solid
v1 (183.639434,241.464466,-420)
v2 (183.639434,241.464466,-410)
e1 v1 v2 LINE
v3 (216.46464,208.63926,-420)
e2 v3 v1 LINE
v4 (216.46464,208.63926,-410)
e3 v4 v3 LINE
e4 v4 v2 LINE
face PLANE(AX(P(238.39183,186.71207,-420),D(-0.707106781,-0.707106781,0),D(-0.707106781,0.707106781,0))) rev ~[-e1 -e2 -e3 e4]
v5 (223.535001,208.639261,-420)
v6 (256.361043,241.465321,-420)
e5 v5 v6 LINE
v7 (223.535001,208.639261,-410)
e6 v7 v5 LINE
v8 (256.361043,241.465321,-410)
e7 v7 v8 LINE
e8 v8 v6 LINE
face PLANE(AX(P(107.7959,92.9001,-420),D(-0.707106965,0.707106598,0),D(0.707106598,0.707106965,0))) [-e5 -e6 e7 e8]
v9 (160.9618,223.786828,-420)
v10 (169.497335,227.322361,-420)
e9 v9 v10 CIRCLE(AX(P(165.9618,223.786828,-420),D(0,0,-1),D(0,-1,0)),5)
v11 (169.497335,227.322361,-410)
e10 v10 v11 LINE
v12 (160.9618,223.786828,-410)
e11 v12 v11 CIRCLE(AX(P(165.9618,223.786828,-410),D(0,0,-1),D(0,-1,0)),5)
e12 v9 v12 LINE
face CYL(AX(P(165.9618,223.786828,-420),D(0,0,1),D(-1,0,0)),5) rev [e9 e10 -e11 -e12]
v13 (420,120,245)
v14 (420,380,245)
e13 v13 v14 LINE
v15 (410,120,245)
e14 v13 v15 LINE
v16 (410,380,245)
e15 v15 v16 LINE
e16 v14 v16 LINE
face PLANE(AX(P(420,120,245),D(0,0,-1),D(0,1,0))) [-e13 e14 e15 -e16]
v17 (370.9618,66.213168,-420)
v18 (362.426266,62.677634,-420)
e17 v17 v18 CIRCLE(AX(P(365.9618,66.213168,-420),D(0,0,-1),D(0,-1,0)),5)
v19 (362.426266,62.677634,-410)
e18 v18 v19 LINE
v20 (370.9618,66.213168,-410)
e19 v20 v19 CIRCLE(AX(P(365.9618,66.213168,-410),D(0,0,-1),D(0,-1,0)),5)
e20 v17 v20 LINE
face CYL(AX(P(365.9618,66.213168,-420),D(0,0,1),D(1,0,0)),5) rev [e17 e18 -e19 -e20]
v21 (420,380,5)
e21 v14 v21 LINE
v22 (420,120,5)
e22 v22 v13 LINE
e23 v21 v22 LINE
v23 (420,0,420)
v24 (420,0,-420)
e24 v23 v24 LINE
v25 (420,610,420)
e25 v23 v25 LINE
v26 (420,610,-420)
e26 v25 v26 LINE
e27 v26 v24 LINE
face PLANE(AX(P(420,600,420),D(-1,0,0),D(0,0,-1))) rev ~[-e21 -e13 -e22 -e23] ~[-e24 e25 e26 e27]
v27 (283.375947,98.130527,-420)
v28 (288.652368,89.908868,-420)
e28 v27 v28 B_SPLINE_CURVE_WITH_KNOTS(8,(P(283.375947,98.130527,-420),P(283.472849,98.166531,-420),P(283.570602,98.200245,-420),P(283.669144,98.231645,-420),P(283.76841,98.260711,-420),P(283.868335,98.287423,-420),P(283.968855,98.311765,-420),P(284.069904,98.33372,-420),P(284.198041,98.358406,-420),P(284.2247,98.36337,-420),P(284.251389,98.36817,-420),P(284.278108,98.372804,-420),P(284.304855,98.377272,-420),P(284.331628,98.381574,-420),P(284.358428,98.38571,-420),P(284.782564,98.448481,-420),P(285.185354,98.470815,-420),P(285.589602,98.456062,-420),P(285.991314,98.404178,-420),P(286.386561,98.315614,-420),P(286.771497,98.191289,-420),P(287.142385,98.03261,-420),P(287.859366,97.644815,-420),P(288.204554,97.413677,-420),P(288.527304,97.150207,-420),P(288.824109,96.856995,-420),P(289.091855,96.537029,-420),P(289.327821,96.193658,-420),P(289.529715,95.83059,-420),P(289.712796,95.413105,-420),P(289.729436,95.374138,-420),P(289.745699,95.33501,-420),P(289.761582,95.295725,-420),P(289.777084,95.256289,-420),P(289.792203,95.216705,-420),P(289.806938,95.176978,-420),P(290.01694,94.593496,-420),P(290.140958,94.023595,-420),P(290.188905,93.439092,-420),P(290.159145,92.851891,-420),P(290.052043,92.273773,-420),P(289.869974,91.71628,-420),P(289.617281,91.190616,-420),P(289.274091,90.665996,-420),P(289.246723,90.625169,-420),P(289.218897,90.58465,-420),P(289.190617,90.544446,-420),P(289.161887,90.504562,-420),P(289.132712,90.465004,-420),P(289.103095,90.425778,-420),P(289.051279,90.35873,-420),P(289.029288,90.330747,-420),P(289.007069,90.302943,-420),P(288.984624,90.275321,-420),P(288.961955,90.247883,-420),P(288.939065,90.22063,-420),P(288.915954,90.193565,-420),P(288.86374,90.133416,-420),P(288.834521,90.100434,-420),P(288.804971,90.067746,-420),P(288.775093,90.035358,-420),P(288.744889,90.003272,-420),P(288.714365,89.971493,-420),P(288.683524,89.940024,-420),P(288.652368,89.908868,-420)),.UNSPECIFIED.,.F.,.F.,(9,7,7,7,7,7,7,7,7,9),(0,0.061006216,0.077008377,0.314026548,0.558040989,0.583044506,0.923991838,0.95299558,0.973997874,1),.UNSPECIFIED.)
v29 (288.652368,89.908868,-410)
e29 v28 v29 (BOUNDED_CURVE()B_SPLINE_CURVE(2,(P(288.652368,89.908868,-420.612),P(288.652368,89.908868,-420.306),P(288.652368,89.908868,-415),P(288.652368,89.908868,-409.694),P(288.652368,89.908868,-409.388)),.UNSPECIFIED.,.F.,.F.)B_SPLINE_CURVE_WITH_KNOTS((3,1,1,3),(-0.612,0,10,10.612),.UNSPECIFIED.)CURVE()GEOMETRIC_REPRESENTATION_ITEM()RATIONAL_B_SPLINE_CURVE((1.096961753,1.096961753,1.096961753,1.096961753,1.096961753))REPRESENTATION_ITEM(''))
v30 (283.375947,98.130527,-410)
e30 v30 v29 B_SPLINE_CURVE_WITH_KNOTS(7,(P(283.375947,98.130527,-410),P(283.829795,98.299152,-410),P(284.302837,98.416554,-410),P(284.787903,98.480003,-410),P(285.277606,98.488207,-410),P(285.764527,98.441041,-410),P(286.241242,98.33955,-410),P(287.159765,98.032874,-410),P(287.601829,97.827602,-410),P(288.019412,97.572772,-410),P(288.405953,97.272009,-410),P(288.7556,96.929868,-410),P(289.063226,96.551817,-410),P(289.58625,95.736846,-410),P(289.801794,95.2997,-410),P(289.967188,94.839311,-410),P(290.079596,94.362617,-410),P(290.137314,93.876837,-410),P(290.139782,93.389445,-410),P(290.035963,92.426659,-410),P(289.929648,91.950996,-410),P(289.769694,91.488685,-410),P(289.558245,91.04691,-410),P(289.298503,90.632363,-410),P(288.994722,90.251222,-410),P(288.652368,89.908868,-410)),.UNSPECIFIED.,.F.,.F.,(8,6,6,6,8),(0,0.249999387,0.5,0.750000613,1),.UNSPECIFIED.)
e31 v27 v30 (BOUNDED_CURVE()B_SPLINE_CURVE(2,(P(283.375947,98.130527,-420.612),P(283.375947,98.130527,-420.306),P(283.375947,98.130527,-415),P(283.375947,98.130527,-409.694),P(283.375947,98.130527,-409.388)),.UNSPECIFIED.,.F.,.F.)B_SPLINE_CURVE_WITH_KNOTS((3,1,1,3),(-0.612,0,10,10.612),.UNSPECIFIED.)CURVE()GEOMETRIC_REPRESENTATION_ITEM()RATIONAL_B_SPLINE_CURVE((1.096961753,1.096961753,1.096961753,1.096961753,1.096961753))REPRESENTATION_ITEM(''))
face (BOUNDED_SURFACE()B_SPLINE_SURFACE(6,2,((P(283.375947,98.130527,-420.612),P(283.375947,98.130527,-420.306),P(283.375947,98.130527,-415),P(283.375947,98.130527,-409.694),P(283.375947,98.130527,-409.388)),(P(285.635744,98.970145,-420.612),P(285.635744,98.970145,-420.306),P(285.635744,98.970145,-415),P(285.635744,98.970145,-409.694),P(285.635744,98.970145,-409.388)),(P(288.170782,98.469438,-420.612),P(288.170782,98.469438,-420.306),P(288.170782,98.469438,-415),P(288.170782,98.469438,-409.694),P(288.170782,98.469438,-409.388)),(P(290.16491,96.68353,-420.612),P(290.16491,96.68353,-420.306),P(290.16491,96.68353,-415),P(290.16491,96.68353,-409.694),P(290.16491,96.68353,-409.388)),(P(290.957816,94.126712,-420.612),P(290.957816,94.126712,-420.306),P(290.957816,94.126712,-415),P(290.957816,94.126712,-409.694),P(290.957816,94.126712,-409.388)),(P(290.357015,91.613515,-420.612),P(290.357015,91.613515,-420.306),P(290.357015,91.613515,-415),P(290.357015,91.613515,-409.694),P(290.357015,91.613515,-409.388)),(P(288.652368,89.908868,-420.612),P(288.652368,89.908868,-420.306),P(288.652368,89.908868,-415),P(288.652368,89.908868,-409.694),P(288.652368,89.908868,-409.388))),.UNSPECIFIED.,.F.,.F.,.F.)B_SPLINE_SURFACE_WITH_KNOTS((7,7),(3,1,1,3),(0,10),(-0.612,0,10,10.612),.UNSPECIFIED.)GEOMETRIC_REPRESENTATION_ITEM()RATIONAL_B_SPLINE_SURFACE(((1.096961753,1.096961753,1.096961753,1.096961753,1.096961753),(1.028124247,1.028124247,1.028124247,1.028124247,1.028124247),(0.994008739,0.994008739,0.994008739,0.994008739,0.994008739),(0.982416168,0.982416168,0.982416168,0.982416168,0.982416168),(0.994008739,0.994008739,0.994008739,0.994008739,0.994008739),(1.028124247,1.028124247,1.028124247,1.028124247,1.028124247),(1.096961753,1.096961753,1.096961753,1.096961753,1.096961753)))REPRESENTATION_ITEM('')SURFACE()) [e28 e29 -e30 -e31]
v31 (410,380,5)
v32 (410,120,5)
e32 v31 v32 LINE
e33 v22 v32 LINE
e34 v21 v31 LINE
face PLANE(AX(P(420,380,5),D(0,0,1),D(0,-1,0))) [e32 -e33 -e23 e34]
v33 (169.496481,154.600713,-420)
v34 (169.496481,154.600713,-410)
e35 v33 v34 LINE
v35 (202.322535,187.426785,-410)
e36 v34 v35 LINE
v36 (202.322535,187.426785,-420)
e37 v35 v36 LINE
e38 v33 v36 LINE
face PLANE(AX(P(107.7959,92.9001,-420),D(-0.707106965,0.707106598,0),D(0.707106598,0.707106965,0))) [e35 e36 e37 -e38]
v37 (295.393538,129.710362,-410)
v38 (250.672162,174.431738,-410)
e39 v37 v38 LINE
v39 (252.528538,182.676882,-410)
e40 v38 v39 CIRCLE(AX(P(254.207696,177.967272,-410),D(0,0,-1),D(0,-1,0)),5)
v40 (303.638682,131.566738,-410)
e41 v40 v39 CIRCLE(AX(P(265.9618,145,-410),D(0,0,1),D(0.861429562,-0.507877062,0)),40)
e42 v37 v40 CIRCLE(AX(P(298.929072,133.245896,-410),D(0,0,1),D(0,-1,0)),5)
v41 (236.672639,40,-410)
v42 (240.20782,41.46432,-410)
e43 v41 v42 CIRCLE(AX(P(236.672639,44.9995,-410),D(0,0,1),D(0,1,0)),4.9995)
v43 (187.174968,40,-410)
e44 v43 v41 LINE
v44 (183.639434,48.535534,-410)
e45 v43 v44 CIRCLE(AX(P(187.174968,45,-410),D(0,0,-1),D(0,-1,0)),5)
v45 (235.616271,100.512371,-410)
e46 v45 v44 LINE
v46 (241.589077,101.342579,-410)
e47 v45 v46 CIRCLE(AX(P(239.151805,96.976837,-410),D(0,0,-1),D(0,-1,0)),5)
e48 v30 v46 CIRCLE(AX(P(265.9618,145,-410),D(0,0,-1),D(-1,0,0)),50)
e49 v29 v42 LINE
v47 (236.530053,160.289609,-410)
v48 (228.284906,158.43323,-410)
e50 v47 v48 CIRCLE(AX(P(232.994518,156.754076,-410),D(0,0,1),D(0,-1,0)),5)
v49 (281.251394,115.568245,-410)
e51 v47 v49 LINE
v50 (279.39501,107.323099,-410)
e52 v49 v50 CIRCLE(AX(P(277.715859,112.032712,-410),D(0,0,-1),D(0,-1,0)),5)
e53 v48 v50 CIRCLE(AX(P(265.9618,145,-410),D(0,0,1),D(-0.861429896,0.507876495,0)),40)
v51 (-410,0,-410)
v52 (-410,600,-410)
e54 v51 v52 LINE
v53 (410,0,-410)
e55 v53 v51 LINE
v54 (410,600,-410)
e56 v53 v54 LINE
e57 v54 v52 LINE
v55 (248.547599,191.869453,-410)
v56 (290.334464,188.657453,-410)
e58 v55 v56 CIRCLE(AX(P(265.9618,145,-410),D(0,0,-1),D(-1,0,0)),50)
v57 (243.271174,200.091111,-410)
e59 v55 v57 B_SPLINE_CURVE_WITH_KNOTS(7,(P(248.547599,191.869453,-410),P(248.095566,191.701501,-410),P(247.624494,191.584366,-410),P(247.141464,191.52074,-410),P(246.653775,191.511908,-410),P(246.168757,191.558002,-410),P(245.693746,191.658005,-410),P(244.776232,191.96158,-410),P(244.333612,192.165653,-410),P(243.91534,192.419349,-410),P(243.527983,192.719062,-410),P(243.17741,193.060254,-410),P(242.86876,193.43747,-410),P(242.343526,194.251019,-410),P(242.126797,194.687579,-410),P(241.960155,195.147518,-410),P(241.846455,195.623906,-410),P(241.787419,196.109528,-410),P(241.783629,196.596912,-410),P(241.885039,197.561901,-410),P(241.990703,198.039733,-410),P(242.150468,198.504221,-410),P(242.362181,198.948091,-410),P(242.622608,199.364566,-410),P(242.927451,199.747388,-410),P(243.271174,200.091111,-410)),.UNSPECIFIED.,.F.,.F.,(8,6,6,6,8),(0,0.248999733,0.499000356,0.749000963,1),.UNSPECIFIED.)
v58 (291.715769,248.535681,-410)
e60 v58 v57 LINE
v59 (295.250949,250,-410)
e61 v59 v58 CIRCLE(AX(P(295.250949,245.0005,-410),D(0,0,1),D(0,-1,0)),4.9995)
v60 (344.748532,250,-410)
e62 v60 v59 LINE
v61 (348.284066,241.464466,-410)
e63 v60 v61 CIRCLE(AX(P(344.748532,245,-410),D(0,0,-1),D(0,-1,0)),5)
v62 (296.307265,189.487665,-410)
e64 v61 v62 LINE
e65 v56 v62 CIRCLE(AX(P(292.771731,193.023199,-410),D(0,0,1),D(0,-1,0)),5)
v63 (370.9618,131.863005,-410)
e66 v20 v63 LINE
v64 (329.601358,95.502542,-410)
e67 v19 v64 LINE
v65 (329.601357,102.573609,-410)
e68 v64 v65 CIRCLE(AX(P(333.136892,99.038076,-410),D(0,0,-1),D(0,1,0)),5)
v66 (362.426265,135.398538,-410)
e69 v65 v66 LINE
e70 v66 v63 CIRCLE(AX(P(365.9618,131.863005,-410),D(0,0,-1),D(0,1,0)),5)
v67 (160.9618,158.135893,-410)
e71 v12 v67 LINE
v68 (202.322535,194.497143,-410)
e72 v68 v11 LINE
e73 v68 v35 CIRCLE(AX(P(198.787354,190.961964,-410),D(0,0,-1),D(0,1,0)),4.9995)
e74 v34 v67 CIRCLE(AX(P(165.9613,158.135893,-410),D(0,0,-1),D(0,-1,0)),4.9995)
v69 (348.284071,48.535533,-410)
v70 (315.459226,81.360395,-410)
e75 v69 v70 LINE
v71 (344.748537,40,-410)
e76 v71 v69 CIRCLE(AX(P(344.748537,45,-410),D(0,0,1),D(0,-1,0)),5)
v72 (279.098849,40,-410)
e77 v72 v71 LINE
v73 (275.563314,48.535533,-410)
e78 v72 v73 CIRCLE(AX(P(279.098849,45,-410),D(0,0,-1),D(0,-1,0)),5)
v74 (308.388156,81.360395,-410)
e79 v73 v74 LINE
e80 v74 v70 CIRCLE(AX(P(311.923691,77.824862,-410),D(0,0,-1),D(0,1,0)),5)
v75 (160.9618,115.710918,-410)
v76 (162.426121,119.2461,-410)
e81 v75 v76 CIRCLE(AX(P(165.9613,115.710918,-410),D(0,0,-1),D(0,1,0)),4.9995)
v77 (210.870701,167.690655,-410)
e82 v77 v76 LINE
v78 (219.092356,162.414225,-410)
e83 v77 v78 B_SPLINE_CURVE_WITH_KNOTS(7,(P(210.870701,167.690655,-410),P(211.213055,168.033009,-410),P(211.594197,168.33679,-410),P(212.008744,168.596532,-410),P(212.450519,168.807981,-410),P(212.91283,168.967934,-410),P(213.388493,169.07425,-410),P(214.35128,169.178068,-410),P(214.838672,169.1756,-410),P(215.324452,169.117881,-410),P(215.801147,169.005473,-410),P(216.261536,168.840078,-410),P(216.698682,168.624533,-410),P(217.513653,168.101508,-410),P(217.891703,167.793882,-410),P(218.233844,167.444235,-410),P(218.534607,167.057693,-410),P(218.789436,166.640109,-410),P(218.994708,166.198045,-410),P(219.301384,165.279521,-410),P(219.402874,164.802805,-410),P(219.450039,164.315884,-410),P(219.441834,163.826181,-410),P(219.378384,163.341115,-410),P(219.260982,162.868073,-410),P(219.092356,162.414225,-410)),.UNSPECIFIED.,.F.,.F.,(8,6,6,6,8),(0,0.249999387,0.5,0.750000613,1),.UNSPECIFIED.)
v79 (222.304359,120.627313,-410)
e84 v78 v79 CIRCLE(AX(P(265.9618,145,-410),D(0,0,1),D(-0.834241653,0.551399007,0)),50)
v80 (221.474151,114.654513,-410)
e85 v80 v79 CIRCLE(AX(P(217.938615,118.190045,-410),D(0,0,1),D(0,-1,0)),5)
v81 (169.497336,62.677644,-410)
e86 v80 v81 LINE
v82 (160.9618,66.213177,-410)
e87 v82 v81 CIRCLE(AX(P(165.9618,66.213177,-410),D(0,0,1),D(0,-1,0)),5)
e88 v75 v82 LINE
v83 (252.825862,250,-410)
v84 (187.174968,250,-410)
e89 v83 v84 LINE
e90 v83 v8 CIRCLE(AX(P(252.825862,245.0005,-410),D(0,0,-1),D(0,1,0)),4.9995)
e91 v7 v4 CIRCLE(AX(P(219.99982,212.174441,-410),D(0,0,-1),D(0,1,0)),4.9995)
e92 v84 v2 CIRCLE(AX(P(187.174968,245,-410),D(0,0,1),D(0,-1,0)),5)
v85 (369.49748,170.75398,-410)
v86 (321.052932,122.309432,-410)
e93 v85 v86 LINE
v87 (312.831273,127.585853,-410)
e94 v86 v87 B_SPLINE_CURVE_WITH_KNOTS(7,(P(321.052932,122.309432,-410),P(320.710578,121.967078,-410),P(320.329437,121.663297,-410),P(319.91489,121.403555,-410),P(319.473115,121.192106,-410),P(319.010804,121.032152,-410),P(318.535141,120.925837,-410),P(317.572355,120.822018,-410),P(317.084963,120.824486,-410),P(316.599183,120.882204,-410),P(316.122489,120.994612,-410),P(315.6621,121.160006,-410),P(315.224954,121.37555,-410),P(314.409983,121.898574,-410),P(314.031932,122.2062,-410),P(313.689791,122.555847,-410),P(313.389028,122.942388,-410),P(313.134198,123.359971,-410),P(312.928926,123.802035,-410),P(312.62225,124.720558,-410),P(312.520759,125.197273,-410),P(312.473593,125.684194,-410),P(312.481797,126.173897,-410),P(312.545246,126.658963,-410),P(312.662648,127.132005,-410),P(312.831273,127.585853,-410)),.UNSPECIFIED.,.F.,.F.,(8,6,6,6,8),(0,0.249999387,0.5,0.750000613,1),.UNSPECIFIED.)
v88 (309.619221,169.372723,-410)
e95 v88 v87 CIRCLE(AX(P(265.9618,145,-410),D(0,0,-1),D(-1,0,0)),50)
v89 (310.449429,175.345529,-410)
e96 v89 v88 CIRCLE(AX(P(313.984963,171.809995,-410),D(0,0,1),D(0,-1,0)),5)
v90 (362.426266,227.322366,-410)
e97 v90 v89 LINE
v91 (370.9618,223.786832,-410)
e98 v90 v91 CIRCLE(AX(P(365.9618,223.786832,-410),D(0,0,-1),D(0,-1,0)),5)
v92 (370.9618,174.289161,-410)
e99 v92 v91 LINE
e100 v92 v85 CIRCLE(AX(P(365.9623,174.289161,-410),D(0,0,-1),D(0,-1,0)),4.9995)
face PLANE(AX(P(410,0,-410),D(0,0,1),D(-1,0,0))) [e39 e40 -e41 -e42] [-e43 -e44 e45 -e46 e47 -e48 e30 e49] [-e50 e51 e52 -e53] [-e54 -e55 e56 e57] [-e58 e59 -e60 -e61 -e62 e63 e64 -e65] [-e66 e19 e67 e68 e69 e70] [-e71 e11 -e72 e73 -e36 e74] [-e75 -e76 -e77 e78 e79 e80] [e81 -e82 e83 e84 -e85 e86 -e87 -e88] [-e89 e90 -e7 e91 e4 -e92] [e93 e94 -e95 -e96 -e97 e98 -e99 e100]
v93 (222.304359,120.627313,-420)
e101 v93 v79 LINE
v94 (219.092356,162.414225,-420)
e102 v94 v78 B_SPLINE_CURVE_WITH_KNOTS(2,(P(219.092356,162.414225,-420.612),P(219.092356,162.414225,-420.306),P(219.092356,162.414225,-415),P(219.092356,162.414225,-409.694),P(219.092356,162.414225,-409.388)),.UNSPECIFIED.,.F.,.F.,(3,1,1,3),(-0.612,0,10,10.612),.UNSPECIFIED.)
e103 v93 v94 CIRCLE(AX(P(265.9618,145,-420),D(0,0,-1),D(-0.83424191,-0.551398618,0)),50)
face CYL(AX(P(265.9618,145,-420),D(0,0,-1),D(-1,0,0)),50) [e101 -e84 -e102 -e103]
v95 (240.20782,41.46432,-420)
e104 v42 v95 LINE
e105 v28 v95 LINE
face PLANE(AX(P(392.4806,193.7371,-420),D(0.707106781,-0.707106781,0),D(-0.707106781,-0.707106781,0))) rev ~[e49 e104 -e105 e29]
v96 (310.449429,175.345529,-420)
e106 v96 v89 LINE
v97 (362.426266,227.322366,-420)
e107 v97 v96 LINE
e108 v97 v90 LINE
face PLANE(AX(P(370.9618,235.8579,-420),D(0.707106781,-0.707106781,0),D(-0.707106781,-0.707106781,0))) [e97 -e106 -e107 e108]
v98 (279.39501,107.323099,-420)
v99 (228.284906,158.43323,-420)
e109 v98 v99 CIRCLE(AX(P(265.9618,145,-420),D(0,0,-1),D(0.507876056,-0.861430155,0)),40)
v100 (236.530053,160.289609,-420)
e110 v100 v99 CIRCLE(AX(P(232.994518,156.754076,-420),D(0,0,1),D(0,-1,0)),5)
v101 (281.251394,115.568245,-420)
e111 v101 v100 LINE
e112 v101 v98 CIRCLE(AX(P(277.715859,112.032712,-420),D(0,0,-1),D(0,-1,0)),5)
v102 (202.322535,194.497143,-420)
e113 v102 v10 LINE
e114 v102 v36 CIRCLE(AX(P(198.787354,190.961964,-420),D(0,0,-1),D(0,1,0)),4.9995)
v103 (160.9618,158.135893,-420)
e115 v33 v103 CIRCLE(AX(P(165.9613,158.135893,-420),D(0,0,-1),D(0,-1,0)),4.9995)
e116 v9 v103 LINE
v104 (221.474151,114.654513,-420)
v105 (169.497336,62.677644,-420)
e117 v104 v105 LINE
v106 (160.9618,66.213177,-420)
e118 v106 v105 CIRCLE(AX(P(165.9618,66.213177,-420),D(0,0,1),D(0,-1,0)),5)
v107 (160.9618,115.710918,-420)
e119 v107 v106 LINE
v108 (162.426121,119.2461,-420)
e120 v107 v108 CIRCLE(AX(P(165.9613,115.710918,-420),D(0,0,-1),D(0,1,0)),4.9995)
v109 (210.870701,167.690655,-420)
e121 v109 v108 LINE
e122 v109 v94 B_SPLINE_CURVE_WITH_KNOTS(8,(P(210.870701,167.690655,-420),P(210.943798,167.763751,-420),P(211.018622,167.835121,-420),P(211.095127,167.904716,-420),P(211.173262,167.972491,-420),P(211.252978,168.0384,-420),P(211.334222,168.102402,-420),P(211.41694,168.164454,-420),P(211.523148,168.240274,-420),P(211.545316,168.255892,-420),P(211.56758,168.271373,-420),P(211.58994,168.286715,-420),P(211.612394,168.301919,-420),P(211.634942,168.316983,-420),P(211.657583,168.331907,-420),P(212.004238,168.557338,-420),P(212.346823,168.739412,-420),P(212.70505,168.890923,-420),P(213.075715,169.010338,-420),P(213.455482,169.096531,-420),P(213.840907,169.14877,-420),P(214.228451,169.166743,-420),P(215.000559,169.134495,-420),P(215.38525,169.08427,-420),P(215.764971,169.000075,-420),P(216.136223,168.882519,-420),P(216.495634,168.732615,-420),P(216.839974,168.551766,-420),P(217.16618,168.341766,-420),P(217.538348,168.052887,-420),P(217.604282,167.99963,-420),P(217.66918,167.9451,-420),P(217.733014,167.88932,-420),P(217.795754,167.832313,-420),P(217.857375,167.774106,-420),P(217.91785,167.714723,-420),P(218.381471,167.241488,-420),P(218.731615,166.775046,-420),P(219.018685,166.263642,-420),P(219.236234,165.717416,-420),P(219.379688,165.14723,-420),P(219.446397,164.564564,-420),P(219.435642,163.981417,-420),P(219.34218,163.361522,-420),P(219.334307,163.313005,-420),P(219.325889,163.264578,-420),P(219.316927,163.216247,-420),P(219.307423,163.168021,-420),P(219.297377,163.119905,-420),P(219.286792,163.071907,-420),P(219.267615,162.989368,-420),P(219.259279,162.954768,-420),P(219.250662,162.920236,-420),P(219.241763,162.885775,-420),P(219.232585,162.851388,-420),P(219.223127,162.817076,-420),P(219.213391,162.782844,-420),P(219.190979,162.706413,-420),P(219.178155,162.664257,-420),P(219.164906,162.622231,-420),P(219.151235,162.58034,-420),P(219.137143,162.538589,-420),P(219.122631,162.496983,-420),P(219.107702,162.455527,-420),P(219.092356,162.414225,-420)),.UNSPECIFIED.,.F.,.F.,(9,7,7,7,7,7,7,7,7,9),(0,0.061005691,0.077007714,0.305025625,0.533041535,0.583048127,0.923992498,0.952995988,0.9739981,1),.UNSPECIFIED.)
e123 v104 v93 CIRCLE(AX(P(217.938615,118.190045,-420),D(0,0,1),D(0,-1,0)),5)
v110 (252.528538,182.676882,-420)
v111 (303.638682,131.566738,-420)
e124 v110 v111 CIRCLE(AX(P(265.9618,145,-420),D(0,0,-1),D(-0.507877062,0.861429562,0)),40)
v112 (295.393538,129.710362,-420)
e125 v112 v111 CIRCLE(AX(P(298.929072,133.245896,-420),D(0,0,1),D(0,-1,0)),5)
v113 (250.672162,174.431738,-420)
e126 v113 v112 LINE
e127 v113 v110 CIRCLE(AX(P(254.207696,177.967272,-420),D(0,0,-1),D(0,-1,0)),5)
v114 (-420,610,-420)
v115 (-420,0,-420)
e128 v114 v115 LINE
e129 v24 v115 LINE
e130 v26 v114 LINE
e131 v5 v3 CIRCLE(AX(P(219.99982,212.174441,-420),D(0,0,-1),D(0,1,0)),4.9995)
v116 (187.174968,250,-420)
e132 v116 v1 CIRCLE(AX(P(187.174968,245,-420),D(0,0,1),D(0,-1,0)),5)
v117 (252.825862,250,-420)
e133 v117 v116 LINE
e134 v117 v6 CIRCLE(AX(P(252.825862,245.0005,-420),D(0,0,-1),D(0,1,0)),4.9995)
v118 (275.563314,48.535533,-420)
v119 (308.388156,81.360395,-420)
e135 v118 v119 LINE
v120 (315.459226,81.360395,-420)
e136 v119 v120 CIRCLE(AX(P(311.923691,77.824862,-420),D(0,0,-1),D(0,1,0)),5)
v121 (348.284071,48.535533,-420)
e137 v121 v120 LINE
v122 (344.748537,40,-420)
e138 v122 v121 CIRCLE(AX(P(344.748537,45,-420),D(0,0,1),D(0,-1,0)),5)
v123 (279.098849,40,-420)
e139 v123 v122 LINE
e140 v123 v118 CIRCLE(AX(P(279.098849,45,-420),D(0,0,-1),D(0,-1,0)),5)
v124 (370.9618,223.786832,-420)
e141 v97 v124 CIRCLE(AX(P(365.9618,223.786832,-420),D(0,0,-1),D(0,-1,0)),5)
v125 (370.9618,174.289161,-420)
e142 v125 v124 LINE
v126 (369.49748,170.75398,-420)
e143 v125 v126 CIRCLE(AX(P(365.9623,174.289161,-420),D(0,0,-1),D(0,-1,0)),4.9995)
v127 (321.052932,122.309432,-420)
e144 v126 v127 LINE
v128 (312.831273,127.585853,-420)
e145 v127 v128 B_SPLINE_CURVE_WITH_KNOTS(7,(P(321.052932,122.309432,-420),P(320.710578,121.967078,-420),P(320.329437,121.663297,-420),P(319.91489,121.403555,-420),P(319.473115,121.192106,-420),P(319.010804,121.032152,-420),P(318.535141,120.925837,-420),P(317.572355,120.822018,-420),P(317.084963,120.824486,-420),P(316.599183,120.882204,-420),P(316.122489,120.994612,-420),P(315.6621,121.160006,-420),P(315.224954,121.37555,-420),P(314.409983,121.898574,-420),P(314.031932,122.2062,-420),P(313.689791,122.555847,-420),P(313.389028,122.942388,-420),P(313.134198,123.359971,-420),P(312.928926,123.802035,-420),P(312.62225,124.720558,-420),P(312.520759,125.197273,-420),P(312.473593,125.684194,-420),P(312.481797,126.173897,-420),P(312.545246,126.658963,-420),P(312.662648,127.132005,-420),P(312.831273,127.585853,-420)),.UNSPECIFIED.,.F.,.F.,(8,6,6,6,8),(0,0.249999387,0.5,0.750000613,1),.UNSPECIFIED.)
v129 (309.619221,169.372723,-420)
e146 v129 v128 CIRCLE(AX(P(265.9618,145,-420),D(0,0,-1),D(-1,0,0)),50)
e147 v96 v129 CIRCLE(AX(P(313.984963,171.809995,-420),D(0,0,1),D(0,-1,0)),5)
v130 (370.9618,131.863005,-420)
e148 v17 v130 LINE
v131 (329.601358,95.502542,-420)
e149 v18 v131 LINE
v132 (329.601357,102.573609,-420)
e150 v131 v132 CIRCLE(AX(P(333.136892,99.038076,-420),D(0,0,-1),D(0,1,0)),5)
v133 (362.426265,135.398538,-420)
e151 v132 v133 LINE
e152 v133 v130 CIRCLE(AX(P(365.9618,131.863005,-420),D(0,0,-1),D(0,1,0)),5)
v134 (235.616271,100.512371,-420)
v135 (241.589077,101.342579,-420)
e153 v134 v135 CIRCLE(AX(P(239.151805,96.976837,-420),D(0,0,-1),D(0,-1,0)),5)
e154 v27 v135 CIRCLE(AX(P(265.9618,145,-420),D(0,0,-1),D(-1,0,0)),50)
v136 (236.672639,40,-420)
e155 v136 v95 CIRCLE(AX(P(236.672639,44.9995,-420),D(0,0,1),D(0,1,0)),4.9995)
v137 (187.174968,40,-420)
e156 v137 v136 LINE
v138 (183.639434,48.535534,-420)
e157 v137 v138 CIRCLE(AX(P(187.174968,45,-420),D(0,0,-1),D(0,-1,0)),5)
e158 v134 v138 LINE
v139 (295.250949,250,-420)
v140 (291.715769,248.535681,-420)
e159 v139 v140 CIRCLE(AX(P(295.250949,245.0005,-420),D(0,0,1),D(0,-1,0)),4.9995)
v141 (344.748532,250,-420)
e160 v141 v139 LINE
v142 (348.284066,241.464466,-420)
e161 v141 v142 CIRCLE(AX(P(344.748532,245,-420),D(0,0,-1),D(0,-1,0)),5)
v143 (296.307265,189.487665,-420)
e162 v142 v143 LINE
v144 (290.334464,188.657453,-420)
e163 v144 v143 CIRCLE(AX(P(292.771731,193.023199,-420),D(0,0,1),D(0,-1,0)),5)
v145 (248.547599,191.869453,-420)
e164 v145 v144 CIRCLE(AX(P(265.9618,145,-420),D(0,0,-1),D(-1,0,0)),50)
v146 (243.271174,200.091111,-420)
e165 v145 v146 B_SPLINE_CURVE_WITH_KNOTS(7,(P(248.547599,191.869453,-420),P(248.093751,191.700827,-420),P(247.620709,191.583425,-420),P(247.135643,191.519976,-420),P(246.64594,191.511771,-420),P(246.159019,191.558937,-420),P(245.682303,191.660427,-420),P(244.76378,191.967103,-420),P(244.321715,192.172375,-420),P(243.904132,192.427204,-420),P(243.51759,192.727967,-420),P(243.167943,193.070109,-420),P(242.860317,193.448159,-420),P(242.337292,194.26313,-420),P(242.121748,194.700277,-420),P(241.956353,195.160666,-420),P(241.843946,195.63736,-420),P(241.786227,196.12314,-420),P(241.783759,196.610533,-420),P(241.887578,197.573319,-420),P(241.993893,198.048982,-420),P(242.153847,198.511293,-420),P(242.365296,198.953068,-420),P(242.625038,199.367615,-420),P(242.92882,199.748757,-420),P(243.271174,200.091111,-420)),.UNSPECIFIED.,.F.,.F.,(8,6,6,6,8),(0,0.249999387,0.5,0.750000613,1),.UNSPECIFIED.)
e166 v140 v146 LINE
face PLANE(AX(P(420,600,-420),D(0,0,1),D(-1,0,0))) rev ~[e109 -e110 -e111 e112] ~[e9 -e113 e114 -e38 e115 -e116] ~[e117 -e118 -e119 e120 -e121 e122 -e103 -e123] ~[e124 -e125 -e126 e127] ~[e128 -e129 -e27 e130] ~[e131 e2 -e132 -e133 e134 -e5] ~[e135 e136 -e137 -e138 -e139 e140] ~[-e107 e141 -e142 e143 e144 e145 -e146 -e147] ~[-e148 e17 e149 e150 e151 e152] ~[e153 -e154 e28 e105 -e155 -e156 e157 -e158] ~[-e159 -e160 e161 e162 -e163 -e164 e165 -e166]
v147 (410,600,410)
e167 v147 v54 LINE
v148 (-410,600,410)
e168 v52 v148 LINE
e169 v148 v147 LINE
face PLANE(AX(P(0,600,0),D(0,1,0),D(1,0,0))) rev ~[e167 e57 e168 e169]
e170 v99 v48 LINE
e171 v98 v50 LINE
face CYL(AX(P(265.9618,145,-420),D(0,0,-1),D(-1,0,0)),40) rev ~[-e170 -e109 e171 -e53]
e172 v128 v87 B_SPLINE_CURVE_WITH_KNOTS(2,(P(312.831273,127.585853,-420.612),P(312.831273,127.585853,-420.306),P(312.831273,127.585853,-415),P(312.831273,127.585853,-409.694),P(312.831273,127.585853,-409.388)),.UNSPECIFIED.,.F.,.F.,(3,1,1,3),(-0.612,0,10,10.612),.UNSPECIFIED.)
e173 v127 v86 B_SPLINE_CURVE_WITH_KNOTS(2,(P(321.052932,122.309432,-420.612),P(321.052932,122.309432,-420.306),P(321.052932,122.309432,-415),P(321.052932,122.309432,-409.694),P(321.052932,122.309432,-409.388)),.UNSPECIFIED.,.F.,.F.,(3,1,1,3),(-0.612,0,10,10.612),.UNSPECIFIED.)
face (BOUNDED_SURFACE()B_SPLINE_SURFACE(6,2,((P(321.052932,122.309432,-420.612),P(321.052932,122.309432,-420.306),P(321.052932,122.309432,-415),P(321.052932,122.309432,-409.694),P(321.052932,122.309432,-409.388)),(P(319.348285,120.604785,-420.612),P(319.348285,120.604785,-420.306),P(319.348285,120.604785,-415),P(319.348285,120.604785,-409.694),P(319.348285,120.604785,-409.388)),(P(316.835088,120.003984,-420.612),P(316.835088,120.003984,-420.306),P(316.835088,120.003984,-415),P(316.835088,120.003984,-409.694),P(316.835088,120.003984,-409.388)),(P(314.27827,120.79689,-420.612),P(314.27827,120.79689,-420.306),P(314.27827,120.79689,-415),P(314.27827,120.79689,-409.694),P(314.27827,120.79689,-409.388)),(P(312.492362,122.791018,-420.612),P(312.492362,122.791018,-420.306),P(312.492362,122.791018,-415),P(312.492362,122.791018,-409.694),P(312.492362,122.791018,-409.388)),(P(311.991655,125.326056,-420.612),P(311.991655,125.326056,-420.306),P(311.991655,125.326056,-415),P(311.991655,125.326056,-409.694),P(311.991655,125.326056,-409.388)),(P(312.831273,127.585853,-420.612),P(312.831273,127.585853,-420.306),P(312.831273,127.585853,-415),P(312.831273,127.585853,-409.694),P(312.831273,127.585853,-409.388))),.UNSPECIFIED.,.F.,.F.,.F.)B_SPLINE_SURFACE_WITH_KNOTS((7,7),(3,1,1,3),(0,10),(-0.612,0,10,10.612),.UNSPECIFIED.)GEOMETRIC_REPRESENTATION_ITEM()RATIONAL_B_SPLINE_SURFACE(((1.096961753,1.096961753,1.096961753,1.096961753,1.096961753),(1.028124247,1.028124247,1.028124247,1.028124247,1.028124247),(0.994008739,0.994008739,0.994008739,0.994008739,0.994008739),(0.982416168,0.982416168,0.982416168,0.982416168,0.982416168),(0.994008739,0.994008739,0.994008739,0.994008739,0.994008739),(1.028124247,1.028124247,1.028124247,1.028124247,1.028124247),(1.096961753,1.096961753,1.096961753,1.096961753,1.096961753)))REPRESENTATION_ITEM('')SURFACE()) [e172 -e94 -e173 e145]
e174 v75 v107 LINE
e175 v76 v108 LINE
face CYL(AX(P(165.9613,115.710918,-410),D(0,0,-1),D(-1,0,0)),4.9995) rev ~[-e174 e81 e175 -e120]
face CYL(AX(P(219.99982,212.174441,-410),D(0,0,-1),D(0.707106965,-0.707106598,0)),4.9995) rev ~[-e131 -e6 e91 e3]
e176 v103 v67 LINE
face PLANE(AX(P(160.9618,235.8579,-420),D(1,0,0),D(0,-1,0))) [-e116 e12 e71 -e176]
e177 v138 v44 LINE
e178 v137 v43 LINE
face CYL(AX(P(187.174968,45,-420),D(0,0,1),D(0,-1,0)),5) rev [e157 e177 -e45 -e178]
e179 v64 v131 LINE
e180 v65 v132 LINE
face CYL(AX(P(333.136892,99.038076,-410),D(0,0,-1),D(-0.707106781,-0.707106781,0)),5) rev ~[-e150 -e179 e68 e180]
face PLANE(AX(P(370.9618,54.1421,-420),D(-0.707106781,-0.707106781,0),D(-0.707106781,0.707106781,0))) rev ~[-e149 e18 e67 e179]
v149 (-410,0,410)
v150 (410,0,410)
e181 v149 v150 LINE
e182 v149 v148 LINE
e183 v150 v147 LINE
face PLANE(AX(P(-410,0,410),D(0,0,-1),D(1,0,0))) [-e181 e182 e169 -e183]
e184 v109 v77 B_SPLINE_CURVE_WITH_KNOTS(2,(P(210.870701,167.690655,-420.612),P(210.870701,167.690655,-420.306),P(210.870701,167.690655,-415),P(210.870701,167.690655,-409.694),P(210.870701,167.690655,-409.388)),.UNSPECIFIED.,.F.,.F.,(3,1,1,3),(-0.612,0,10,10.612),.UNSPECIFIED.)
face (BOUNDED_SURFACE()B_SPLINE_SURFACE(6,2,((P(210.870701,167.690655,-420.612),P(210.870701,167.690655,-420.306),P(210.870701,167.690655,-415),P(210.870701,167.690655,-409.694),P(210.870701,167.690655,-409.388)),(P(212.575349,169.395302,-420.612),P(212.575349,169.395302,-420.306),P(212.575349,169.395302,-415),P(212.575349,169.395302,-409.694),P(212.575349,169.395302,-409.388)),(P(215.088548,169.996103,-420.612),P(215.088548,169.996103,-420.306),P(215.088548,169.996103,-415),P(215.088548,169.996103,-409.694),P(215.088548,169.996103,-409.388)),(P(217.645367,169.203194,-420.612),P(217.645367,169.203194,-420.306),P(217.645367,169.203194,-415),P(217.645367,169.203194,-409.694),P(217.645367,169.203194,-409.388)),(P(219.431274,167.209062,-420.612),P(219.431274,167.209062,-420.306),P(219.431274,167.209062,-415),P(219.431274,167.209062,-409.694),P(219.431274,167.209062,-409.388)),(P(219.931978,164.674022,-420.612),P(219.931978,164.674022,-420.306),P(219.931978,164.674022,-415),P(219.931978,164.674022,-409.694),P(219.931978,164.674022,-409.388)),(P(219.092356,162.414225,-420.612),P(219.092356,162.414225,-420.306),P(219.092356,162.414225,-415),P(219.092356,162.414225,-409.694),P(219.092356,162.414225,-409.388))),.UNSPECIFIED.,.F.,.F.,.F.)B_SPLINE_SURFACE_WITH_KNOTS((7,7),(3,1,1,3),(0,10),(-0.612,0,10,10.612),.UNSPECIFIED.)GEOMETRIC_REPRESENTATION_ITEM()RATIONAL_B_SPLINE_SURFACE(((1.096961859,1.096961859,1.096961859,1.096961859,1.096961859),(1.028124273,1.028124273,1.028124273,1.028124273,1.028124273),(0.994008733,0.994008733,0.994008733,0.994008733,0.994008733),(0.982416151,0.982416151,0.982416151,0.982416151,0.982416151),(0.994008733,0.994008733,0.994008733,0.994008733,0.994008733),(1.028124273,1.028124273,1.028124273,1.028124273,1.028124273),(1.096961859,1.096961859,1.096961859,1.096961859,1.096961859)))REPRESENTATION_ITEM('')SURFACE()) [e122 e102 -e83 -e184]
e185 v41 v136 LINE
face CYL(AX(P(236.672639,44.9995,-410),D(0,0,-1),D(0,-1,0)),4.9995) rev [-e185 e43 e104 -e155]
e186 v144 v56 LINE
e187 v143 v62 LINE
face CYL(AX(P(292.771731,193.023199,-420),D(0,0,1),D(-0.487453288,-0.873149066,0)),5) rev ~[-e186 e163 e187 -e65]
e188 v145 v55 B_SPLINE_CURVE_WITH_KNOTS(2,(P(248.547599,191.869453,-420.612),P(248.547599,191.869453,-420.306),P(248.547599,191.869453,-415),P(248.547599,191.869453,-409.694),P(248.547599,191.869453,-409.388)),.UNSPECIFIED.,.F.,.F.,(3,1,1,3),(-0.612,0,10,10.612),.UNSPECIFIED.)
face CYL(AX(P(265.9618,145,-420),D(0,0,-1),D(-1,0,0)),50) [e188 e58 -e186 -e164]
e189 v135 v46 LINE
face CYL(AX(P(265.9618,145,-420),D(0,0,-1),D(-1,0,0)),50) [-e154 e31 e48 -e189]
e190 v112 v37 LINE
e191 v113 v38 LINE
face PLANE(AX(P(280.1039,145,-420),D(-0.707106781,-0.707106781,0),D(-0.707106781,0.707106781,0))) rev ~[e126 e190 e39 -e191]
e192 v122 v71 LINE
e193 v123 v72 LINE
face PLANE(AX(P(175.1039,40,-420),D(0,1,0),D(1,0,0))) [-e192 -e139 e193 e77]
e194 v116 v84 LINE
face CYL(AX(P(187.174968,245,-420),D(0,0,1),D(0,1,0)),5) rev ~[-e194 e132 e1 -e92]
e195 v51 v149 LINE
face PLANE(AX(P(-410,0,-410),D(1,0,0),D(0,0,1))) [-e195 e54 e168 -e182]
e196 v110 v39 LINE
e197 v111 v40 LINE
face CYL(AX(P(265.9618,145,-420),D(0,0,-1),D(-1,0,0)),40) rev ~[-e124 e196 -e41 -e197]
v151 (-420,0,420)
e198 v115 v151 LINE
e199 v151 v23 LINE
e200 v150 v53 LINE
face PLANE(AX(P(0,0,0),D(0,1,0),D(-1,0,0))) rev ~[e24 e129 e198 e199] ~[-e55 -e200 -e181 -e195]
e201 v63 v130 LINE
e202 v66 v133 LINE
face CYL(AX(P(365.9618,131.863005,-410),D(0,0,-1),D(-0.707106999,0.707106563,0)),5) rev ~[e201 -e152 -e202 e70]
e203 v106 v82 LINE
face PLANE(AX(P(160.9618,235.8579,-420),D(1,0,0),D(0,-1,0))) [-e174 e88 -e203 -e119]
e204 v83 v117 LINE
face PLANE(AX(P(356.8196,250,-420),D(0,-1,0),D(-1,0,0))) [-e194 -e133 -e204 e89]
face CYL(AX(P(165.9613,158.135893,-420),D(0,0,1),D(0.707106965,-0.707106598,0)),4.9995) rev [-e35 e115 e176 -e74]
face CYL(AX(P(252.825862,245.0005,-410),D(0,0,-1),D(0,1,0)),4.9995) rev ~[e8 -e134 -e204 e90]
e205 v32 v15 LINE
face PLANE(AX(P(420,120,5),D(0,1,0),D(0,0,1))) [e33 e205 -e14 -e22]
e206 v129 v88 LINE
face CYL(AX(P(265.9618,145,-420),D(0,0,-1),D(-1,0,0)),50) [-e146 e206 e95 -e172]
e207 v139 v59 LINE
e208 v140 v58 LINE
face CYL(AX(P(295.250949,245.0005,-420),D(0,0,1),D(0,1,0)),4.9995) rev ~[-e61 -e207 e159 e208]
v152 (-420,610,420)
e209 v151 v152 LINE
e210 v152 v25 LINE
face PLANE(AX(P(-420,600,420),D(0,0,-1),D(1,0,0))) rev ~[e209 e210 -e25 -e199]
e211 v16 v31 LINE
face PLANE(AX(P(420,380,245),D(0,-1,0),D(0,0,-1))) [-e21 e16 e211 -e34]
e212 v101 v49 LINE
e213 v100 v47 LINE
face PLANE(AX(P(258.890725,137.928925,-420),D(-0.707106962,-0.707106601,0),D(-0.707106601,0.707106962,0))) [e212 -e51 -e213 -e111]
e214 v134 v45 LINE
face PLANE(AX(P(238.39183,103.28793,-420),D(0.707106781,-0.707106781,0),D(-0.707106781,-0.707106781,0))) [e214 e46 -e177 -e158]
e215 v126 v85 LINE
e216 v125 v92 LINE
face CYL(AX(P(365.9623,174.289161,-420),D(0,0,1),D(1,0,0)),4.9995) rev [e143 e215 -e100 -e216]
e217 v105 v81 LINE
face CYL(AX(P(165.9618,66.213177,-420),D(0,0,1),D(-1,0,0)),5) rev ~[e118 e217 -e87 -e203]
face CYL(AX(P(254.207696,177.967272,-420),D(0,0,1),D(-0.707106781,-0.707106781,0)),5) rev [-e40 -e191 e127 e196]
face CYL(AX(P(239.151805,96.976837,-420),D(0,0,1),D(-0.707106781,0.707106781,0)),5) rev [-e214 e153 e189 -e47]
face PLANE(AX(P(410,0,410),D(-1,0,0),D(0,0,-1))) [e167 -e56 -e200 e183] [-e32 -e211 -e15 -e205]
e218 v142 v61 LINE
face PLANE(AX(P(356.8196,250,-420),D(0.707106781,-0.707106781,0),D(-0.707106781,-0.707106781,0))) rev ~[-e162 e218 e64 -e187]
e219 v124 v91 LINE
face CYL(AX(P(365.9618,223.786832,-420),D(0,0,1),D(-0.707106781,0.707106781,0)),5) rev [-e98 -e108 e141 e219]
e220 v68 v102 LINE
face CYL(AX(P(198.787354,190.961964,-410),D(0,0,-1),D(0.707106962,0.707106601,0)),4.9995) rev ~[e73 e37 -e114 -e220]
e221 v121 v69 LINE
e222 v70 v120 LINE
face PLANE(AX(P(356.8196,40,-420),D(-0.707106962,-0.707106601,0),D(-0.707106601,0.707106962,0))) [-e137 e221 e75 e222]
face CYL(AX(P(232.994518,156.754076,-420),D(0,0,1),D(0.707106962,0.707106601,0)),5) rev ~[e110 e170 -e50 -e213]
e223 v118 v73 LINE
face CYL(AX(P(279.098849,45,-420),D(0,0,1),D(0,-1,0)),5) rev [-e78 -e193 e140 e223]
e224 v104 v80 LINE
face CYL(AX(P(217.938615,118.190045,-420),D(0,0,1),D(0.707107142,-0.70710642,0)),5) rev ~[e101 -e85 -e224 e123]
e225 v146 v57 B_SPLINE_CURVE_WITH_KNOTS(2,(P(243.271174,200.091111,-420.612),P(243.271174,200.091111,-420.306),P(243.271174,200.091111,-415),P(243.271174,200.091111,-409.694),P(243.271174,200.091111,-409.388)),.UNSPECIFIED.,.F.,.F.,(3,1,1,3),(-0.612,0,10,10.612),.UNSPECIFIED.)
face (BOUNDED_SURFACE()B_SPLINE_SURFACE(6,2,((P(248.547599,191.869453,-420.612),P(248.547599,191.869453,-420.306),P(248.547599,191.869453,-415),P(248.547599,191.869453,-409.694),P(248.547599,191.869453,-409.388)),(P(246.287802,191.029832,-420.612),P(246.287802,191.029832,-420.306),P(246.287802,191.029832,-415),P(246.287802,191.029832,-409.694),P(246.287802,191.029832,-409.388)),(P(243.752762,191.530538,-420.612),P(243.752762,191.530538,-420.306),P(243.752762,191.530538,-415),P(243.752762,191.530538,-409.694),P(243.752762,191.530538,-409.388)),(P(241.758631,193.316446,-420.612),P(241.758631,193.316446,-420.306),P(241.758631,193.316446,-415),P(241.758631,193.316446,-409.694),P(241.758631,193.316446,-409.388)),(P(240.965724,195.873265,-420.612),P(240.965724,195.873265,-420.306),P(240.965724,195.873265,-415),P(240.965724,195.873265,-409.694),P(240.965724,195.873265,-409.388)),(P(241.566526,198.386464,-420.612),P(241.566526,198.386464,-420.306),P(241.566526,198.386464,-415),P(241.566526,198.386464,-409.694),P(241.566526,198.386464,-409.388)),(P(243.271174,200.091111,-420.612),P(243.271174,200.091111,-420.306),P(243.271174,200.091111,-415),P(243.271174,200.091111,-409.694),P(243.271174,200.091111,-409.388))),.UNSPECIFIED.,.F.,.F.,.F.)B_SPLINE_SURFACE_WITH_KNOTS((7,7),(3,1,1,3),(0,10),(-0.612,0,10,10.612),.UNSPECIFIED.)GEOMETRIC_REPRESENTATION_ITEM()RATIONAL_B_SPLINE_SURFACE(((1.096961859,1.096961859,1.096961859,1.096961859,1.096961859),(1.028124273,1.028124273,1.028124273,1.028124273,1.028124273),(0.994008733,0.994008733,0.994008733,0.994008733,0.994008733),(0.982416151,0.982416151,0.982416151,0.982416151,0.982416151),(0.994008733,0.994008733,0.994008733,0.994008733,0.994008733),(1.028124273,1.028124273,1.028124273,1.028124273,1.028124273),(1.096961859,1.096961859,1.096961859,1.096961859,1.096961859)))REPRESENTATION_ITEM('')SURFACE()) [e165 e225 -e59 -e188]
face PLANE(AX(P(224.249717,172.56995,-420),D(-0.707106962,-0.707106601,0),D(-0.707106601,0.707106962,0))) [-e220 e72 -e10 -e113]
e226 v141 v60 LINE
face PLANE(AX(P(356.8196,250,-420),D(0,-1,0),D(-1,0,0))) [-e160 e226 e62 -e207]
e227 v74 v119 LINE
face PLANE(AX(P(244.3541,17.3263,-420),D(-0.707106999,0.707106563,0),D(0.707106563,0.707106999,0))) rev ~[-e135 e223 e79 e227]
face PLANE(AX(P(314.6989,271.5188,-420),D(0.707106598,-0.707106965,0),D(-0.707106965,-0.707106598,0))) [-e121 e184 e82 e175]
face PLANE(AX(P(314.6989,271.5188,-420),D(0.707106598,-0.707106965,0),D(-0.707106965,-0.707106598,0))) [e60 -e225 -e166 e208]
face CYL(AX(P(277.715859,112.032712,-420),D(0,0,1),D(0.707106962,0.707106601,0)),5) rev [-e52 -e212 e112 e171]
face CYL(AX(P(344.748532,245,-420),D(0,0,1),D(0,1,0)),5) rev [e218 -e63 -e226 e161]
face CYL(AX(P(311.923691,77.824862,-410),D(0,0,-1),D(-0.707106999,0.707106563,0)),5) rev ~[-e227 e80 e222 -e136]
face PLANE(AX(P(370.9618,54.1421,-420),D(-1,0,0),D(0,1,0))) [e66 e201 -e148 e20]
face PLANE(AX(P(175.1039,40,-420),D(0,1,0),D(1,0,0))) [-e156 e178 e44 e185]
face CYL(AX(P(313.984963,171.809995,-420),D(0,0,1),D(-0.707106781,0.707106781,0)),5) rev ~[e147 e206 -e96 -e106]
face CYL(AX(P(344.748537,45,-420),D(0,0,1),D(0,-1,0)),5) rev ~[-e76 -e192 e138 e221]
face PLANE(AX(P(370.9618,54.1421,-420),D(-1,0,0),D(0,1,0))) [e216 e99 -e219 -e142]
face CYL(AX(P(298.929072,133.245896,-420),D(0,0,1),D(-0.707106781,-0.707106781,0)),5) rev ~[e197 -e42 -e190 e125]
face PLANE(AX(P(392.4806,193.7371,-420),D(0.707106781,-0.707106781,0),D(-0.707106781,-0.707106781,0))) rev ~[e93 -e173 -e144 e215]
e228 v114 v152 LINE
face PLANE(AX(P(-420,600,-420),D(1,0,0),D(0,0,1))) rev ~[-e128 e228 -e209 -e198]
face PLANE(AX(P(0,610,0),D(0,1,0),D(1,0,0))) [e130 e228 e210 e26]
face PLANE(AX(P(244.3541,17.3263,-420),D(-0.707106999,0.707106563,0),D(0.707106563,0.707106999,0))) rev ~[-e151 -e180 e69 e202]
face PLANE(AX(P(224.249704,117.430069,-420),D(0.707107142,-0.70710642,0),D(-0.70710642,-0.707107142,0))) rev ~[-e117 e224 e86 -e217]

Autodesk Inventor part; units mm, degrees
ref_plane "YZ Plane" through (0, 0, 0) normal (1, 0, 0) x (0, 1, 0)
ref_plane "XZ Plane" through (0, 0, 0) normal (0, 1, 0) x (-1, 0, 0)
ref_plane "XY Plane" through (0, 0, 0) normal (0, 0, 1) x (1, 0, 0)
sketch "草图1" plane through (0, 0, 0) normal (0, 1, 0) x (-1, 0, 0)
  line L0 (410, 410) -> (-410, 410)
  line L1 (-410, 410) -> (-410, -410)
  line L2 (-410, -410) -> (410, -410)
  line L3 (410, -410) -> (410, 410)
  line L4 (410, 410) -> (-410, -410) construction
  line L5 (-410, 410) -> (410, -410) construction
  line L6 (420, 420) -> (-420, 420)
  line L7 (-420, 420) -> (-420, -420)
  line L8 (-420, -420) -> (420, -420)
  line L9 (420, -420) -> (420, 420)
  point P0 (0, 0)
  dimension "d0" = 820
  dimension "d1" = 820
  dimension "d2" = 10
extrude "拉伸1" add sketch "草图1" along normal blind 600
sketch "草图2" plane through (420, 0, -420) normal (0, 0, -1) x (-1, 0, 0)
  line L0 (49.0382, 250) -> (259.0382, 250)
  line L1 (259.0382, 250) -> (259.0382, 40)
  line L2 (259.0382, 40) -> (49.0382, 40)
  line L3 (49.0382, 40) -> (49.0382, 250)
  line L4 (0, 600) -> (840, 600) projected
  circle A0 centre (154.0382, 145) radius 50
  circle A1 centre (154.0382, 145) radius 40
  line L5 (154.0382, 145) -> (49.0382, 250)
  line L6 (154.0382, 145) -> (259.0382, 40)
  line L7 (49.0382, 40) -> (259.0382, 250)
  line L8 (63.1804, 40) -> (259.0382, 235.8579)
  line L9 (49.0382, 54.1421) -> (244.8961, 250)
  line L10 (49.0382, 235.8579) -> (146.9672, 137.9289)
  line L11 (146.9672, 137.9289) -> (244.8961, 40)
  line L12 (63.1804, 250) -> (161.1093, 152.0711)
  line L13 (161.1093, 152.0711) -> (259.0382, 54.1421)
  point P0 (420, 0)
  point P1 (188.4954, 165.3151)
  point P2 (133.7232, 110.5428)
  point P3 (174.3533, 179.4572)
  point P4 (119.581, 124.6849)
  point P5 (181.6082, 103.2879)
  point P6 (126.4683, 103.2879)
  point P7 (112.3261, 172.5699)
  point P8 (112.3261, 117.4301)
  point P9 (195.7503, 117.4301)
  point P10 (195.7503, 172.5699)
  point P11 (126.4683, 186.7121)
  point P12 (181.6082, 186.7121)
  dimension "d5" = 210
  dimension "d6" = 210
  dimension "d7" = 350
  dimension "d8" = 100
  dimension "d9" = 105
  dimension "d10" = 105
  dimension "d11" = 80
  dimension "d12" = 10
  dimension "d13" = 10
  dimension "d14" = 10
  dimension "d15" = 10
extrude "拉伸2" cut sketch "草图2" against normal blind 10 contours L0 L9 A0 L12 | L10 A0 L9 L3 | L5 L9 L10 A1 | A1 L12 L9 L5 | A1 L9 L12 | L10 L9 A1 | L1 L13 A0 L8 | L8 A0 L11 L2 | L8 L13 A1 L6 | L6 A1 L11 L8 | A1 L13 L8 | L8 L11 A1
sketch "草图3" plane through (0, 600, 0) normal (0, 1, 0) x (1, 0, 0)
  line L0 (-420, -420) -> (420, -420) projected
  line L1 (420, -420) -> (420, 420) projected
  line L2 (-420, -420) -> (420, -420)
  line L3 (420, -420) -> (420, 420)
  line L4 (420, 420) -> (-420, 420)
  line L5 (-420, 420) -> (-420, -420)
  point P0 (0, 0)
extrude "拉伸3" add sketch "草图3" along normal blind 10
fillet "圆角1" radius 5 5 edges at (160.9618, 235.8579, -415) (175.1039, 250, -415) (238.3918, 186.7121, -415) (293.5317, 186.7121, -415) (356.8196, 250, -415)
fillet "圆角2" radius 5 11 edges at (224.2497, 172.5699, -415) (224.2497, 117.4301, -415) (356.8196, 40, -415) (370.9618, 235.8579, -415) (370.9618, 54.1421, -415) (160.9618, 54.1421, -415) (175.1039, 40, -415) (293.5317, 103.2879, -415) (238.3918, 103.2879, -415) (307.6739, 172.5699, -415) (307.6739, 117.4301, -415)
fillet "圆角3" radius 5 4 edges at (245.6467, 179.4572, -415) (231.5046, 165.3151, -415) (300.419, 124.6849, -415) (286.2768, 110.5428, -415)
sketch "草图4" plane through (420, 0, -420) normal (0, 0, -1) x (-1, 0, 0)
  line L0 (27.5194, 193.7371) -> (189.7881, 31.4684)
  line L1 (175.6459, 17.3263) -> (13.3773, 179.595)
  line L2 (57.5738, 227.3223) -> (109.5506, 175.3455) projected
  line L3 (27.5194, 193.7371) -> (13.3773, 179.595)
  line L4 (189.7881, 31.4684) -> (175.6459, 17.3263)
  line L5 (105.3011, 271.5188) -> (298.062, 78.758)
  line L6 (298.062, 78.758) -> (312.2041, 92.9001)
  line L7 (312.2041, 92.9001) -> (119.4433, 285.661)
  line L8 (119.4433, 285.661) -> (105.3011, 271.5188)
  line L9 (123.6927, 189.4876) -> (71.7159, 241.4645) projected
  point P0 (420, 0)
  dimension "d24" = 20
  dimension "d25" = 45
  dimension "d26" = 20
  dimension "d27" = 45
extrude "拉伸4" add sketch "草图4" against normal blind 10
sketch "草图5" plane through (420, 0, 420) normal (1, 0, 0) x (0, 0, -1)
  line L0 (175, 380) -> (415, 380)
  line L1 (415, 380) -> (415, 120)
  line L2 (415, 120) -> (175, 120)
  line L3 (175, 120) -> (175, 380)
  line L4 (0, 0) -> (0, 610) projected
  line L5 (0, 0) -> (840, 0) projected
  point P0 (420, 0)
  dimension "d30" = 260
  dimension "d31" = 240
  dimension "d32" = 175
  dimension "d33" = 120
extrude "拉伸5" cut sketch "草图5" against normal blind 10
fillet "圆角4" radius 5 8 edges at (219.9998, 205.1041, -415) (264.8958, 250, -415) (205.8577, 190.9619, -415) (160.9618, 146.066, -415) (219.9998, 176.8198, -415) (160.9618, 117.7817, -415) (293.18, 250, -415) (234.142, 190.9619, -415)
fillet "圆角5" radius 5 4 edges at (370.9618, 172.2183, -415) (311.9237, 113.1802, -415) (297.7816, 99.0381, -415) (238.7435, 40, -415)
fillet "圆角6" radius 5 4 edges at (267.0278, 40, -415) (311.9237, 84.8959, -415) (326.0658, 99.0381, -415) (370.9618, 143.934, -415)
properties part number "玻璃罩"
